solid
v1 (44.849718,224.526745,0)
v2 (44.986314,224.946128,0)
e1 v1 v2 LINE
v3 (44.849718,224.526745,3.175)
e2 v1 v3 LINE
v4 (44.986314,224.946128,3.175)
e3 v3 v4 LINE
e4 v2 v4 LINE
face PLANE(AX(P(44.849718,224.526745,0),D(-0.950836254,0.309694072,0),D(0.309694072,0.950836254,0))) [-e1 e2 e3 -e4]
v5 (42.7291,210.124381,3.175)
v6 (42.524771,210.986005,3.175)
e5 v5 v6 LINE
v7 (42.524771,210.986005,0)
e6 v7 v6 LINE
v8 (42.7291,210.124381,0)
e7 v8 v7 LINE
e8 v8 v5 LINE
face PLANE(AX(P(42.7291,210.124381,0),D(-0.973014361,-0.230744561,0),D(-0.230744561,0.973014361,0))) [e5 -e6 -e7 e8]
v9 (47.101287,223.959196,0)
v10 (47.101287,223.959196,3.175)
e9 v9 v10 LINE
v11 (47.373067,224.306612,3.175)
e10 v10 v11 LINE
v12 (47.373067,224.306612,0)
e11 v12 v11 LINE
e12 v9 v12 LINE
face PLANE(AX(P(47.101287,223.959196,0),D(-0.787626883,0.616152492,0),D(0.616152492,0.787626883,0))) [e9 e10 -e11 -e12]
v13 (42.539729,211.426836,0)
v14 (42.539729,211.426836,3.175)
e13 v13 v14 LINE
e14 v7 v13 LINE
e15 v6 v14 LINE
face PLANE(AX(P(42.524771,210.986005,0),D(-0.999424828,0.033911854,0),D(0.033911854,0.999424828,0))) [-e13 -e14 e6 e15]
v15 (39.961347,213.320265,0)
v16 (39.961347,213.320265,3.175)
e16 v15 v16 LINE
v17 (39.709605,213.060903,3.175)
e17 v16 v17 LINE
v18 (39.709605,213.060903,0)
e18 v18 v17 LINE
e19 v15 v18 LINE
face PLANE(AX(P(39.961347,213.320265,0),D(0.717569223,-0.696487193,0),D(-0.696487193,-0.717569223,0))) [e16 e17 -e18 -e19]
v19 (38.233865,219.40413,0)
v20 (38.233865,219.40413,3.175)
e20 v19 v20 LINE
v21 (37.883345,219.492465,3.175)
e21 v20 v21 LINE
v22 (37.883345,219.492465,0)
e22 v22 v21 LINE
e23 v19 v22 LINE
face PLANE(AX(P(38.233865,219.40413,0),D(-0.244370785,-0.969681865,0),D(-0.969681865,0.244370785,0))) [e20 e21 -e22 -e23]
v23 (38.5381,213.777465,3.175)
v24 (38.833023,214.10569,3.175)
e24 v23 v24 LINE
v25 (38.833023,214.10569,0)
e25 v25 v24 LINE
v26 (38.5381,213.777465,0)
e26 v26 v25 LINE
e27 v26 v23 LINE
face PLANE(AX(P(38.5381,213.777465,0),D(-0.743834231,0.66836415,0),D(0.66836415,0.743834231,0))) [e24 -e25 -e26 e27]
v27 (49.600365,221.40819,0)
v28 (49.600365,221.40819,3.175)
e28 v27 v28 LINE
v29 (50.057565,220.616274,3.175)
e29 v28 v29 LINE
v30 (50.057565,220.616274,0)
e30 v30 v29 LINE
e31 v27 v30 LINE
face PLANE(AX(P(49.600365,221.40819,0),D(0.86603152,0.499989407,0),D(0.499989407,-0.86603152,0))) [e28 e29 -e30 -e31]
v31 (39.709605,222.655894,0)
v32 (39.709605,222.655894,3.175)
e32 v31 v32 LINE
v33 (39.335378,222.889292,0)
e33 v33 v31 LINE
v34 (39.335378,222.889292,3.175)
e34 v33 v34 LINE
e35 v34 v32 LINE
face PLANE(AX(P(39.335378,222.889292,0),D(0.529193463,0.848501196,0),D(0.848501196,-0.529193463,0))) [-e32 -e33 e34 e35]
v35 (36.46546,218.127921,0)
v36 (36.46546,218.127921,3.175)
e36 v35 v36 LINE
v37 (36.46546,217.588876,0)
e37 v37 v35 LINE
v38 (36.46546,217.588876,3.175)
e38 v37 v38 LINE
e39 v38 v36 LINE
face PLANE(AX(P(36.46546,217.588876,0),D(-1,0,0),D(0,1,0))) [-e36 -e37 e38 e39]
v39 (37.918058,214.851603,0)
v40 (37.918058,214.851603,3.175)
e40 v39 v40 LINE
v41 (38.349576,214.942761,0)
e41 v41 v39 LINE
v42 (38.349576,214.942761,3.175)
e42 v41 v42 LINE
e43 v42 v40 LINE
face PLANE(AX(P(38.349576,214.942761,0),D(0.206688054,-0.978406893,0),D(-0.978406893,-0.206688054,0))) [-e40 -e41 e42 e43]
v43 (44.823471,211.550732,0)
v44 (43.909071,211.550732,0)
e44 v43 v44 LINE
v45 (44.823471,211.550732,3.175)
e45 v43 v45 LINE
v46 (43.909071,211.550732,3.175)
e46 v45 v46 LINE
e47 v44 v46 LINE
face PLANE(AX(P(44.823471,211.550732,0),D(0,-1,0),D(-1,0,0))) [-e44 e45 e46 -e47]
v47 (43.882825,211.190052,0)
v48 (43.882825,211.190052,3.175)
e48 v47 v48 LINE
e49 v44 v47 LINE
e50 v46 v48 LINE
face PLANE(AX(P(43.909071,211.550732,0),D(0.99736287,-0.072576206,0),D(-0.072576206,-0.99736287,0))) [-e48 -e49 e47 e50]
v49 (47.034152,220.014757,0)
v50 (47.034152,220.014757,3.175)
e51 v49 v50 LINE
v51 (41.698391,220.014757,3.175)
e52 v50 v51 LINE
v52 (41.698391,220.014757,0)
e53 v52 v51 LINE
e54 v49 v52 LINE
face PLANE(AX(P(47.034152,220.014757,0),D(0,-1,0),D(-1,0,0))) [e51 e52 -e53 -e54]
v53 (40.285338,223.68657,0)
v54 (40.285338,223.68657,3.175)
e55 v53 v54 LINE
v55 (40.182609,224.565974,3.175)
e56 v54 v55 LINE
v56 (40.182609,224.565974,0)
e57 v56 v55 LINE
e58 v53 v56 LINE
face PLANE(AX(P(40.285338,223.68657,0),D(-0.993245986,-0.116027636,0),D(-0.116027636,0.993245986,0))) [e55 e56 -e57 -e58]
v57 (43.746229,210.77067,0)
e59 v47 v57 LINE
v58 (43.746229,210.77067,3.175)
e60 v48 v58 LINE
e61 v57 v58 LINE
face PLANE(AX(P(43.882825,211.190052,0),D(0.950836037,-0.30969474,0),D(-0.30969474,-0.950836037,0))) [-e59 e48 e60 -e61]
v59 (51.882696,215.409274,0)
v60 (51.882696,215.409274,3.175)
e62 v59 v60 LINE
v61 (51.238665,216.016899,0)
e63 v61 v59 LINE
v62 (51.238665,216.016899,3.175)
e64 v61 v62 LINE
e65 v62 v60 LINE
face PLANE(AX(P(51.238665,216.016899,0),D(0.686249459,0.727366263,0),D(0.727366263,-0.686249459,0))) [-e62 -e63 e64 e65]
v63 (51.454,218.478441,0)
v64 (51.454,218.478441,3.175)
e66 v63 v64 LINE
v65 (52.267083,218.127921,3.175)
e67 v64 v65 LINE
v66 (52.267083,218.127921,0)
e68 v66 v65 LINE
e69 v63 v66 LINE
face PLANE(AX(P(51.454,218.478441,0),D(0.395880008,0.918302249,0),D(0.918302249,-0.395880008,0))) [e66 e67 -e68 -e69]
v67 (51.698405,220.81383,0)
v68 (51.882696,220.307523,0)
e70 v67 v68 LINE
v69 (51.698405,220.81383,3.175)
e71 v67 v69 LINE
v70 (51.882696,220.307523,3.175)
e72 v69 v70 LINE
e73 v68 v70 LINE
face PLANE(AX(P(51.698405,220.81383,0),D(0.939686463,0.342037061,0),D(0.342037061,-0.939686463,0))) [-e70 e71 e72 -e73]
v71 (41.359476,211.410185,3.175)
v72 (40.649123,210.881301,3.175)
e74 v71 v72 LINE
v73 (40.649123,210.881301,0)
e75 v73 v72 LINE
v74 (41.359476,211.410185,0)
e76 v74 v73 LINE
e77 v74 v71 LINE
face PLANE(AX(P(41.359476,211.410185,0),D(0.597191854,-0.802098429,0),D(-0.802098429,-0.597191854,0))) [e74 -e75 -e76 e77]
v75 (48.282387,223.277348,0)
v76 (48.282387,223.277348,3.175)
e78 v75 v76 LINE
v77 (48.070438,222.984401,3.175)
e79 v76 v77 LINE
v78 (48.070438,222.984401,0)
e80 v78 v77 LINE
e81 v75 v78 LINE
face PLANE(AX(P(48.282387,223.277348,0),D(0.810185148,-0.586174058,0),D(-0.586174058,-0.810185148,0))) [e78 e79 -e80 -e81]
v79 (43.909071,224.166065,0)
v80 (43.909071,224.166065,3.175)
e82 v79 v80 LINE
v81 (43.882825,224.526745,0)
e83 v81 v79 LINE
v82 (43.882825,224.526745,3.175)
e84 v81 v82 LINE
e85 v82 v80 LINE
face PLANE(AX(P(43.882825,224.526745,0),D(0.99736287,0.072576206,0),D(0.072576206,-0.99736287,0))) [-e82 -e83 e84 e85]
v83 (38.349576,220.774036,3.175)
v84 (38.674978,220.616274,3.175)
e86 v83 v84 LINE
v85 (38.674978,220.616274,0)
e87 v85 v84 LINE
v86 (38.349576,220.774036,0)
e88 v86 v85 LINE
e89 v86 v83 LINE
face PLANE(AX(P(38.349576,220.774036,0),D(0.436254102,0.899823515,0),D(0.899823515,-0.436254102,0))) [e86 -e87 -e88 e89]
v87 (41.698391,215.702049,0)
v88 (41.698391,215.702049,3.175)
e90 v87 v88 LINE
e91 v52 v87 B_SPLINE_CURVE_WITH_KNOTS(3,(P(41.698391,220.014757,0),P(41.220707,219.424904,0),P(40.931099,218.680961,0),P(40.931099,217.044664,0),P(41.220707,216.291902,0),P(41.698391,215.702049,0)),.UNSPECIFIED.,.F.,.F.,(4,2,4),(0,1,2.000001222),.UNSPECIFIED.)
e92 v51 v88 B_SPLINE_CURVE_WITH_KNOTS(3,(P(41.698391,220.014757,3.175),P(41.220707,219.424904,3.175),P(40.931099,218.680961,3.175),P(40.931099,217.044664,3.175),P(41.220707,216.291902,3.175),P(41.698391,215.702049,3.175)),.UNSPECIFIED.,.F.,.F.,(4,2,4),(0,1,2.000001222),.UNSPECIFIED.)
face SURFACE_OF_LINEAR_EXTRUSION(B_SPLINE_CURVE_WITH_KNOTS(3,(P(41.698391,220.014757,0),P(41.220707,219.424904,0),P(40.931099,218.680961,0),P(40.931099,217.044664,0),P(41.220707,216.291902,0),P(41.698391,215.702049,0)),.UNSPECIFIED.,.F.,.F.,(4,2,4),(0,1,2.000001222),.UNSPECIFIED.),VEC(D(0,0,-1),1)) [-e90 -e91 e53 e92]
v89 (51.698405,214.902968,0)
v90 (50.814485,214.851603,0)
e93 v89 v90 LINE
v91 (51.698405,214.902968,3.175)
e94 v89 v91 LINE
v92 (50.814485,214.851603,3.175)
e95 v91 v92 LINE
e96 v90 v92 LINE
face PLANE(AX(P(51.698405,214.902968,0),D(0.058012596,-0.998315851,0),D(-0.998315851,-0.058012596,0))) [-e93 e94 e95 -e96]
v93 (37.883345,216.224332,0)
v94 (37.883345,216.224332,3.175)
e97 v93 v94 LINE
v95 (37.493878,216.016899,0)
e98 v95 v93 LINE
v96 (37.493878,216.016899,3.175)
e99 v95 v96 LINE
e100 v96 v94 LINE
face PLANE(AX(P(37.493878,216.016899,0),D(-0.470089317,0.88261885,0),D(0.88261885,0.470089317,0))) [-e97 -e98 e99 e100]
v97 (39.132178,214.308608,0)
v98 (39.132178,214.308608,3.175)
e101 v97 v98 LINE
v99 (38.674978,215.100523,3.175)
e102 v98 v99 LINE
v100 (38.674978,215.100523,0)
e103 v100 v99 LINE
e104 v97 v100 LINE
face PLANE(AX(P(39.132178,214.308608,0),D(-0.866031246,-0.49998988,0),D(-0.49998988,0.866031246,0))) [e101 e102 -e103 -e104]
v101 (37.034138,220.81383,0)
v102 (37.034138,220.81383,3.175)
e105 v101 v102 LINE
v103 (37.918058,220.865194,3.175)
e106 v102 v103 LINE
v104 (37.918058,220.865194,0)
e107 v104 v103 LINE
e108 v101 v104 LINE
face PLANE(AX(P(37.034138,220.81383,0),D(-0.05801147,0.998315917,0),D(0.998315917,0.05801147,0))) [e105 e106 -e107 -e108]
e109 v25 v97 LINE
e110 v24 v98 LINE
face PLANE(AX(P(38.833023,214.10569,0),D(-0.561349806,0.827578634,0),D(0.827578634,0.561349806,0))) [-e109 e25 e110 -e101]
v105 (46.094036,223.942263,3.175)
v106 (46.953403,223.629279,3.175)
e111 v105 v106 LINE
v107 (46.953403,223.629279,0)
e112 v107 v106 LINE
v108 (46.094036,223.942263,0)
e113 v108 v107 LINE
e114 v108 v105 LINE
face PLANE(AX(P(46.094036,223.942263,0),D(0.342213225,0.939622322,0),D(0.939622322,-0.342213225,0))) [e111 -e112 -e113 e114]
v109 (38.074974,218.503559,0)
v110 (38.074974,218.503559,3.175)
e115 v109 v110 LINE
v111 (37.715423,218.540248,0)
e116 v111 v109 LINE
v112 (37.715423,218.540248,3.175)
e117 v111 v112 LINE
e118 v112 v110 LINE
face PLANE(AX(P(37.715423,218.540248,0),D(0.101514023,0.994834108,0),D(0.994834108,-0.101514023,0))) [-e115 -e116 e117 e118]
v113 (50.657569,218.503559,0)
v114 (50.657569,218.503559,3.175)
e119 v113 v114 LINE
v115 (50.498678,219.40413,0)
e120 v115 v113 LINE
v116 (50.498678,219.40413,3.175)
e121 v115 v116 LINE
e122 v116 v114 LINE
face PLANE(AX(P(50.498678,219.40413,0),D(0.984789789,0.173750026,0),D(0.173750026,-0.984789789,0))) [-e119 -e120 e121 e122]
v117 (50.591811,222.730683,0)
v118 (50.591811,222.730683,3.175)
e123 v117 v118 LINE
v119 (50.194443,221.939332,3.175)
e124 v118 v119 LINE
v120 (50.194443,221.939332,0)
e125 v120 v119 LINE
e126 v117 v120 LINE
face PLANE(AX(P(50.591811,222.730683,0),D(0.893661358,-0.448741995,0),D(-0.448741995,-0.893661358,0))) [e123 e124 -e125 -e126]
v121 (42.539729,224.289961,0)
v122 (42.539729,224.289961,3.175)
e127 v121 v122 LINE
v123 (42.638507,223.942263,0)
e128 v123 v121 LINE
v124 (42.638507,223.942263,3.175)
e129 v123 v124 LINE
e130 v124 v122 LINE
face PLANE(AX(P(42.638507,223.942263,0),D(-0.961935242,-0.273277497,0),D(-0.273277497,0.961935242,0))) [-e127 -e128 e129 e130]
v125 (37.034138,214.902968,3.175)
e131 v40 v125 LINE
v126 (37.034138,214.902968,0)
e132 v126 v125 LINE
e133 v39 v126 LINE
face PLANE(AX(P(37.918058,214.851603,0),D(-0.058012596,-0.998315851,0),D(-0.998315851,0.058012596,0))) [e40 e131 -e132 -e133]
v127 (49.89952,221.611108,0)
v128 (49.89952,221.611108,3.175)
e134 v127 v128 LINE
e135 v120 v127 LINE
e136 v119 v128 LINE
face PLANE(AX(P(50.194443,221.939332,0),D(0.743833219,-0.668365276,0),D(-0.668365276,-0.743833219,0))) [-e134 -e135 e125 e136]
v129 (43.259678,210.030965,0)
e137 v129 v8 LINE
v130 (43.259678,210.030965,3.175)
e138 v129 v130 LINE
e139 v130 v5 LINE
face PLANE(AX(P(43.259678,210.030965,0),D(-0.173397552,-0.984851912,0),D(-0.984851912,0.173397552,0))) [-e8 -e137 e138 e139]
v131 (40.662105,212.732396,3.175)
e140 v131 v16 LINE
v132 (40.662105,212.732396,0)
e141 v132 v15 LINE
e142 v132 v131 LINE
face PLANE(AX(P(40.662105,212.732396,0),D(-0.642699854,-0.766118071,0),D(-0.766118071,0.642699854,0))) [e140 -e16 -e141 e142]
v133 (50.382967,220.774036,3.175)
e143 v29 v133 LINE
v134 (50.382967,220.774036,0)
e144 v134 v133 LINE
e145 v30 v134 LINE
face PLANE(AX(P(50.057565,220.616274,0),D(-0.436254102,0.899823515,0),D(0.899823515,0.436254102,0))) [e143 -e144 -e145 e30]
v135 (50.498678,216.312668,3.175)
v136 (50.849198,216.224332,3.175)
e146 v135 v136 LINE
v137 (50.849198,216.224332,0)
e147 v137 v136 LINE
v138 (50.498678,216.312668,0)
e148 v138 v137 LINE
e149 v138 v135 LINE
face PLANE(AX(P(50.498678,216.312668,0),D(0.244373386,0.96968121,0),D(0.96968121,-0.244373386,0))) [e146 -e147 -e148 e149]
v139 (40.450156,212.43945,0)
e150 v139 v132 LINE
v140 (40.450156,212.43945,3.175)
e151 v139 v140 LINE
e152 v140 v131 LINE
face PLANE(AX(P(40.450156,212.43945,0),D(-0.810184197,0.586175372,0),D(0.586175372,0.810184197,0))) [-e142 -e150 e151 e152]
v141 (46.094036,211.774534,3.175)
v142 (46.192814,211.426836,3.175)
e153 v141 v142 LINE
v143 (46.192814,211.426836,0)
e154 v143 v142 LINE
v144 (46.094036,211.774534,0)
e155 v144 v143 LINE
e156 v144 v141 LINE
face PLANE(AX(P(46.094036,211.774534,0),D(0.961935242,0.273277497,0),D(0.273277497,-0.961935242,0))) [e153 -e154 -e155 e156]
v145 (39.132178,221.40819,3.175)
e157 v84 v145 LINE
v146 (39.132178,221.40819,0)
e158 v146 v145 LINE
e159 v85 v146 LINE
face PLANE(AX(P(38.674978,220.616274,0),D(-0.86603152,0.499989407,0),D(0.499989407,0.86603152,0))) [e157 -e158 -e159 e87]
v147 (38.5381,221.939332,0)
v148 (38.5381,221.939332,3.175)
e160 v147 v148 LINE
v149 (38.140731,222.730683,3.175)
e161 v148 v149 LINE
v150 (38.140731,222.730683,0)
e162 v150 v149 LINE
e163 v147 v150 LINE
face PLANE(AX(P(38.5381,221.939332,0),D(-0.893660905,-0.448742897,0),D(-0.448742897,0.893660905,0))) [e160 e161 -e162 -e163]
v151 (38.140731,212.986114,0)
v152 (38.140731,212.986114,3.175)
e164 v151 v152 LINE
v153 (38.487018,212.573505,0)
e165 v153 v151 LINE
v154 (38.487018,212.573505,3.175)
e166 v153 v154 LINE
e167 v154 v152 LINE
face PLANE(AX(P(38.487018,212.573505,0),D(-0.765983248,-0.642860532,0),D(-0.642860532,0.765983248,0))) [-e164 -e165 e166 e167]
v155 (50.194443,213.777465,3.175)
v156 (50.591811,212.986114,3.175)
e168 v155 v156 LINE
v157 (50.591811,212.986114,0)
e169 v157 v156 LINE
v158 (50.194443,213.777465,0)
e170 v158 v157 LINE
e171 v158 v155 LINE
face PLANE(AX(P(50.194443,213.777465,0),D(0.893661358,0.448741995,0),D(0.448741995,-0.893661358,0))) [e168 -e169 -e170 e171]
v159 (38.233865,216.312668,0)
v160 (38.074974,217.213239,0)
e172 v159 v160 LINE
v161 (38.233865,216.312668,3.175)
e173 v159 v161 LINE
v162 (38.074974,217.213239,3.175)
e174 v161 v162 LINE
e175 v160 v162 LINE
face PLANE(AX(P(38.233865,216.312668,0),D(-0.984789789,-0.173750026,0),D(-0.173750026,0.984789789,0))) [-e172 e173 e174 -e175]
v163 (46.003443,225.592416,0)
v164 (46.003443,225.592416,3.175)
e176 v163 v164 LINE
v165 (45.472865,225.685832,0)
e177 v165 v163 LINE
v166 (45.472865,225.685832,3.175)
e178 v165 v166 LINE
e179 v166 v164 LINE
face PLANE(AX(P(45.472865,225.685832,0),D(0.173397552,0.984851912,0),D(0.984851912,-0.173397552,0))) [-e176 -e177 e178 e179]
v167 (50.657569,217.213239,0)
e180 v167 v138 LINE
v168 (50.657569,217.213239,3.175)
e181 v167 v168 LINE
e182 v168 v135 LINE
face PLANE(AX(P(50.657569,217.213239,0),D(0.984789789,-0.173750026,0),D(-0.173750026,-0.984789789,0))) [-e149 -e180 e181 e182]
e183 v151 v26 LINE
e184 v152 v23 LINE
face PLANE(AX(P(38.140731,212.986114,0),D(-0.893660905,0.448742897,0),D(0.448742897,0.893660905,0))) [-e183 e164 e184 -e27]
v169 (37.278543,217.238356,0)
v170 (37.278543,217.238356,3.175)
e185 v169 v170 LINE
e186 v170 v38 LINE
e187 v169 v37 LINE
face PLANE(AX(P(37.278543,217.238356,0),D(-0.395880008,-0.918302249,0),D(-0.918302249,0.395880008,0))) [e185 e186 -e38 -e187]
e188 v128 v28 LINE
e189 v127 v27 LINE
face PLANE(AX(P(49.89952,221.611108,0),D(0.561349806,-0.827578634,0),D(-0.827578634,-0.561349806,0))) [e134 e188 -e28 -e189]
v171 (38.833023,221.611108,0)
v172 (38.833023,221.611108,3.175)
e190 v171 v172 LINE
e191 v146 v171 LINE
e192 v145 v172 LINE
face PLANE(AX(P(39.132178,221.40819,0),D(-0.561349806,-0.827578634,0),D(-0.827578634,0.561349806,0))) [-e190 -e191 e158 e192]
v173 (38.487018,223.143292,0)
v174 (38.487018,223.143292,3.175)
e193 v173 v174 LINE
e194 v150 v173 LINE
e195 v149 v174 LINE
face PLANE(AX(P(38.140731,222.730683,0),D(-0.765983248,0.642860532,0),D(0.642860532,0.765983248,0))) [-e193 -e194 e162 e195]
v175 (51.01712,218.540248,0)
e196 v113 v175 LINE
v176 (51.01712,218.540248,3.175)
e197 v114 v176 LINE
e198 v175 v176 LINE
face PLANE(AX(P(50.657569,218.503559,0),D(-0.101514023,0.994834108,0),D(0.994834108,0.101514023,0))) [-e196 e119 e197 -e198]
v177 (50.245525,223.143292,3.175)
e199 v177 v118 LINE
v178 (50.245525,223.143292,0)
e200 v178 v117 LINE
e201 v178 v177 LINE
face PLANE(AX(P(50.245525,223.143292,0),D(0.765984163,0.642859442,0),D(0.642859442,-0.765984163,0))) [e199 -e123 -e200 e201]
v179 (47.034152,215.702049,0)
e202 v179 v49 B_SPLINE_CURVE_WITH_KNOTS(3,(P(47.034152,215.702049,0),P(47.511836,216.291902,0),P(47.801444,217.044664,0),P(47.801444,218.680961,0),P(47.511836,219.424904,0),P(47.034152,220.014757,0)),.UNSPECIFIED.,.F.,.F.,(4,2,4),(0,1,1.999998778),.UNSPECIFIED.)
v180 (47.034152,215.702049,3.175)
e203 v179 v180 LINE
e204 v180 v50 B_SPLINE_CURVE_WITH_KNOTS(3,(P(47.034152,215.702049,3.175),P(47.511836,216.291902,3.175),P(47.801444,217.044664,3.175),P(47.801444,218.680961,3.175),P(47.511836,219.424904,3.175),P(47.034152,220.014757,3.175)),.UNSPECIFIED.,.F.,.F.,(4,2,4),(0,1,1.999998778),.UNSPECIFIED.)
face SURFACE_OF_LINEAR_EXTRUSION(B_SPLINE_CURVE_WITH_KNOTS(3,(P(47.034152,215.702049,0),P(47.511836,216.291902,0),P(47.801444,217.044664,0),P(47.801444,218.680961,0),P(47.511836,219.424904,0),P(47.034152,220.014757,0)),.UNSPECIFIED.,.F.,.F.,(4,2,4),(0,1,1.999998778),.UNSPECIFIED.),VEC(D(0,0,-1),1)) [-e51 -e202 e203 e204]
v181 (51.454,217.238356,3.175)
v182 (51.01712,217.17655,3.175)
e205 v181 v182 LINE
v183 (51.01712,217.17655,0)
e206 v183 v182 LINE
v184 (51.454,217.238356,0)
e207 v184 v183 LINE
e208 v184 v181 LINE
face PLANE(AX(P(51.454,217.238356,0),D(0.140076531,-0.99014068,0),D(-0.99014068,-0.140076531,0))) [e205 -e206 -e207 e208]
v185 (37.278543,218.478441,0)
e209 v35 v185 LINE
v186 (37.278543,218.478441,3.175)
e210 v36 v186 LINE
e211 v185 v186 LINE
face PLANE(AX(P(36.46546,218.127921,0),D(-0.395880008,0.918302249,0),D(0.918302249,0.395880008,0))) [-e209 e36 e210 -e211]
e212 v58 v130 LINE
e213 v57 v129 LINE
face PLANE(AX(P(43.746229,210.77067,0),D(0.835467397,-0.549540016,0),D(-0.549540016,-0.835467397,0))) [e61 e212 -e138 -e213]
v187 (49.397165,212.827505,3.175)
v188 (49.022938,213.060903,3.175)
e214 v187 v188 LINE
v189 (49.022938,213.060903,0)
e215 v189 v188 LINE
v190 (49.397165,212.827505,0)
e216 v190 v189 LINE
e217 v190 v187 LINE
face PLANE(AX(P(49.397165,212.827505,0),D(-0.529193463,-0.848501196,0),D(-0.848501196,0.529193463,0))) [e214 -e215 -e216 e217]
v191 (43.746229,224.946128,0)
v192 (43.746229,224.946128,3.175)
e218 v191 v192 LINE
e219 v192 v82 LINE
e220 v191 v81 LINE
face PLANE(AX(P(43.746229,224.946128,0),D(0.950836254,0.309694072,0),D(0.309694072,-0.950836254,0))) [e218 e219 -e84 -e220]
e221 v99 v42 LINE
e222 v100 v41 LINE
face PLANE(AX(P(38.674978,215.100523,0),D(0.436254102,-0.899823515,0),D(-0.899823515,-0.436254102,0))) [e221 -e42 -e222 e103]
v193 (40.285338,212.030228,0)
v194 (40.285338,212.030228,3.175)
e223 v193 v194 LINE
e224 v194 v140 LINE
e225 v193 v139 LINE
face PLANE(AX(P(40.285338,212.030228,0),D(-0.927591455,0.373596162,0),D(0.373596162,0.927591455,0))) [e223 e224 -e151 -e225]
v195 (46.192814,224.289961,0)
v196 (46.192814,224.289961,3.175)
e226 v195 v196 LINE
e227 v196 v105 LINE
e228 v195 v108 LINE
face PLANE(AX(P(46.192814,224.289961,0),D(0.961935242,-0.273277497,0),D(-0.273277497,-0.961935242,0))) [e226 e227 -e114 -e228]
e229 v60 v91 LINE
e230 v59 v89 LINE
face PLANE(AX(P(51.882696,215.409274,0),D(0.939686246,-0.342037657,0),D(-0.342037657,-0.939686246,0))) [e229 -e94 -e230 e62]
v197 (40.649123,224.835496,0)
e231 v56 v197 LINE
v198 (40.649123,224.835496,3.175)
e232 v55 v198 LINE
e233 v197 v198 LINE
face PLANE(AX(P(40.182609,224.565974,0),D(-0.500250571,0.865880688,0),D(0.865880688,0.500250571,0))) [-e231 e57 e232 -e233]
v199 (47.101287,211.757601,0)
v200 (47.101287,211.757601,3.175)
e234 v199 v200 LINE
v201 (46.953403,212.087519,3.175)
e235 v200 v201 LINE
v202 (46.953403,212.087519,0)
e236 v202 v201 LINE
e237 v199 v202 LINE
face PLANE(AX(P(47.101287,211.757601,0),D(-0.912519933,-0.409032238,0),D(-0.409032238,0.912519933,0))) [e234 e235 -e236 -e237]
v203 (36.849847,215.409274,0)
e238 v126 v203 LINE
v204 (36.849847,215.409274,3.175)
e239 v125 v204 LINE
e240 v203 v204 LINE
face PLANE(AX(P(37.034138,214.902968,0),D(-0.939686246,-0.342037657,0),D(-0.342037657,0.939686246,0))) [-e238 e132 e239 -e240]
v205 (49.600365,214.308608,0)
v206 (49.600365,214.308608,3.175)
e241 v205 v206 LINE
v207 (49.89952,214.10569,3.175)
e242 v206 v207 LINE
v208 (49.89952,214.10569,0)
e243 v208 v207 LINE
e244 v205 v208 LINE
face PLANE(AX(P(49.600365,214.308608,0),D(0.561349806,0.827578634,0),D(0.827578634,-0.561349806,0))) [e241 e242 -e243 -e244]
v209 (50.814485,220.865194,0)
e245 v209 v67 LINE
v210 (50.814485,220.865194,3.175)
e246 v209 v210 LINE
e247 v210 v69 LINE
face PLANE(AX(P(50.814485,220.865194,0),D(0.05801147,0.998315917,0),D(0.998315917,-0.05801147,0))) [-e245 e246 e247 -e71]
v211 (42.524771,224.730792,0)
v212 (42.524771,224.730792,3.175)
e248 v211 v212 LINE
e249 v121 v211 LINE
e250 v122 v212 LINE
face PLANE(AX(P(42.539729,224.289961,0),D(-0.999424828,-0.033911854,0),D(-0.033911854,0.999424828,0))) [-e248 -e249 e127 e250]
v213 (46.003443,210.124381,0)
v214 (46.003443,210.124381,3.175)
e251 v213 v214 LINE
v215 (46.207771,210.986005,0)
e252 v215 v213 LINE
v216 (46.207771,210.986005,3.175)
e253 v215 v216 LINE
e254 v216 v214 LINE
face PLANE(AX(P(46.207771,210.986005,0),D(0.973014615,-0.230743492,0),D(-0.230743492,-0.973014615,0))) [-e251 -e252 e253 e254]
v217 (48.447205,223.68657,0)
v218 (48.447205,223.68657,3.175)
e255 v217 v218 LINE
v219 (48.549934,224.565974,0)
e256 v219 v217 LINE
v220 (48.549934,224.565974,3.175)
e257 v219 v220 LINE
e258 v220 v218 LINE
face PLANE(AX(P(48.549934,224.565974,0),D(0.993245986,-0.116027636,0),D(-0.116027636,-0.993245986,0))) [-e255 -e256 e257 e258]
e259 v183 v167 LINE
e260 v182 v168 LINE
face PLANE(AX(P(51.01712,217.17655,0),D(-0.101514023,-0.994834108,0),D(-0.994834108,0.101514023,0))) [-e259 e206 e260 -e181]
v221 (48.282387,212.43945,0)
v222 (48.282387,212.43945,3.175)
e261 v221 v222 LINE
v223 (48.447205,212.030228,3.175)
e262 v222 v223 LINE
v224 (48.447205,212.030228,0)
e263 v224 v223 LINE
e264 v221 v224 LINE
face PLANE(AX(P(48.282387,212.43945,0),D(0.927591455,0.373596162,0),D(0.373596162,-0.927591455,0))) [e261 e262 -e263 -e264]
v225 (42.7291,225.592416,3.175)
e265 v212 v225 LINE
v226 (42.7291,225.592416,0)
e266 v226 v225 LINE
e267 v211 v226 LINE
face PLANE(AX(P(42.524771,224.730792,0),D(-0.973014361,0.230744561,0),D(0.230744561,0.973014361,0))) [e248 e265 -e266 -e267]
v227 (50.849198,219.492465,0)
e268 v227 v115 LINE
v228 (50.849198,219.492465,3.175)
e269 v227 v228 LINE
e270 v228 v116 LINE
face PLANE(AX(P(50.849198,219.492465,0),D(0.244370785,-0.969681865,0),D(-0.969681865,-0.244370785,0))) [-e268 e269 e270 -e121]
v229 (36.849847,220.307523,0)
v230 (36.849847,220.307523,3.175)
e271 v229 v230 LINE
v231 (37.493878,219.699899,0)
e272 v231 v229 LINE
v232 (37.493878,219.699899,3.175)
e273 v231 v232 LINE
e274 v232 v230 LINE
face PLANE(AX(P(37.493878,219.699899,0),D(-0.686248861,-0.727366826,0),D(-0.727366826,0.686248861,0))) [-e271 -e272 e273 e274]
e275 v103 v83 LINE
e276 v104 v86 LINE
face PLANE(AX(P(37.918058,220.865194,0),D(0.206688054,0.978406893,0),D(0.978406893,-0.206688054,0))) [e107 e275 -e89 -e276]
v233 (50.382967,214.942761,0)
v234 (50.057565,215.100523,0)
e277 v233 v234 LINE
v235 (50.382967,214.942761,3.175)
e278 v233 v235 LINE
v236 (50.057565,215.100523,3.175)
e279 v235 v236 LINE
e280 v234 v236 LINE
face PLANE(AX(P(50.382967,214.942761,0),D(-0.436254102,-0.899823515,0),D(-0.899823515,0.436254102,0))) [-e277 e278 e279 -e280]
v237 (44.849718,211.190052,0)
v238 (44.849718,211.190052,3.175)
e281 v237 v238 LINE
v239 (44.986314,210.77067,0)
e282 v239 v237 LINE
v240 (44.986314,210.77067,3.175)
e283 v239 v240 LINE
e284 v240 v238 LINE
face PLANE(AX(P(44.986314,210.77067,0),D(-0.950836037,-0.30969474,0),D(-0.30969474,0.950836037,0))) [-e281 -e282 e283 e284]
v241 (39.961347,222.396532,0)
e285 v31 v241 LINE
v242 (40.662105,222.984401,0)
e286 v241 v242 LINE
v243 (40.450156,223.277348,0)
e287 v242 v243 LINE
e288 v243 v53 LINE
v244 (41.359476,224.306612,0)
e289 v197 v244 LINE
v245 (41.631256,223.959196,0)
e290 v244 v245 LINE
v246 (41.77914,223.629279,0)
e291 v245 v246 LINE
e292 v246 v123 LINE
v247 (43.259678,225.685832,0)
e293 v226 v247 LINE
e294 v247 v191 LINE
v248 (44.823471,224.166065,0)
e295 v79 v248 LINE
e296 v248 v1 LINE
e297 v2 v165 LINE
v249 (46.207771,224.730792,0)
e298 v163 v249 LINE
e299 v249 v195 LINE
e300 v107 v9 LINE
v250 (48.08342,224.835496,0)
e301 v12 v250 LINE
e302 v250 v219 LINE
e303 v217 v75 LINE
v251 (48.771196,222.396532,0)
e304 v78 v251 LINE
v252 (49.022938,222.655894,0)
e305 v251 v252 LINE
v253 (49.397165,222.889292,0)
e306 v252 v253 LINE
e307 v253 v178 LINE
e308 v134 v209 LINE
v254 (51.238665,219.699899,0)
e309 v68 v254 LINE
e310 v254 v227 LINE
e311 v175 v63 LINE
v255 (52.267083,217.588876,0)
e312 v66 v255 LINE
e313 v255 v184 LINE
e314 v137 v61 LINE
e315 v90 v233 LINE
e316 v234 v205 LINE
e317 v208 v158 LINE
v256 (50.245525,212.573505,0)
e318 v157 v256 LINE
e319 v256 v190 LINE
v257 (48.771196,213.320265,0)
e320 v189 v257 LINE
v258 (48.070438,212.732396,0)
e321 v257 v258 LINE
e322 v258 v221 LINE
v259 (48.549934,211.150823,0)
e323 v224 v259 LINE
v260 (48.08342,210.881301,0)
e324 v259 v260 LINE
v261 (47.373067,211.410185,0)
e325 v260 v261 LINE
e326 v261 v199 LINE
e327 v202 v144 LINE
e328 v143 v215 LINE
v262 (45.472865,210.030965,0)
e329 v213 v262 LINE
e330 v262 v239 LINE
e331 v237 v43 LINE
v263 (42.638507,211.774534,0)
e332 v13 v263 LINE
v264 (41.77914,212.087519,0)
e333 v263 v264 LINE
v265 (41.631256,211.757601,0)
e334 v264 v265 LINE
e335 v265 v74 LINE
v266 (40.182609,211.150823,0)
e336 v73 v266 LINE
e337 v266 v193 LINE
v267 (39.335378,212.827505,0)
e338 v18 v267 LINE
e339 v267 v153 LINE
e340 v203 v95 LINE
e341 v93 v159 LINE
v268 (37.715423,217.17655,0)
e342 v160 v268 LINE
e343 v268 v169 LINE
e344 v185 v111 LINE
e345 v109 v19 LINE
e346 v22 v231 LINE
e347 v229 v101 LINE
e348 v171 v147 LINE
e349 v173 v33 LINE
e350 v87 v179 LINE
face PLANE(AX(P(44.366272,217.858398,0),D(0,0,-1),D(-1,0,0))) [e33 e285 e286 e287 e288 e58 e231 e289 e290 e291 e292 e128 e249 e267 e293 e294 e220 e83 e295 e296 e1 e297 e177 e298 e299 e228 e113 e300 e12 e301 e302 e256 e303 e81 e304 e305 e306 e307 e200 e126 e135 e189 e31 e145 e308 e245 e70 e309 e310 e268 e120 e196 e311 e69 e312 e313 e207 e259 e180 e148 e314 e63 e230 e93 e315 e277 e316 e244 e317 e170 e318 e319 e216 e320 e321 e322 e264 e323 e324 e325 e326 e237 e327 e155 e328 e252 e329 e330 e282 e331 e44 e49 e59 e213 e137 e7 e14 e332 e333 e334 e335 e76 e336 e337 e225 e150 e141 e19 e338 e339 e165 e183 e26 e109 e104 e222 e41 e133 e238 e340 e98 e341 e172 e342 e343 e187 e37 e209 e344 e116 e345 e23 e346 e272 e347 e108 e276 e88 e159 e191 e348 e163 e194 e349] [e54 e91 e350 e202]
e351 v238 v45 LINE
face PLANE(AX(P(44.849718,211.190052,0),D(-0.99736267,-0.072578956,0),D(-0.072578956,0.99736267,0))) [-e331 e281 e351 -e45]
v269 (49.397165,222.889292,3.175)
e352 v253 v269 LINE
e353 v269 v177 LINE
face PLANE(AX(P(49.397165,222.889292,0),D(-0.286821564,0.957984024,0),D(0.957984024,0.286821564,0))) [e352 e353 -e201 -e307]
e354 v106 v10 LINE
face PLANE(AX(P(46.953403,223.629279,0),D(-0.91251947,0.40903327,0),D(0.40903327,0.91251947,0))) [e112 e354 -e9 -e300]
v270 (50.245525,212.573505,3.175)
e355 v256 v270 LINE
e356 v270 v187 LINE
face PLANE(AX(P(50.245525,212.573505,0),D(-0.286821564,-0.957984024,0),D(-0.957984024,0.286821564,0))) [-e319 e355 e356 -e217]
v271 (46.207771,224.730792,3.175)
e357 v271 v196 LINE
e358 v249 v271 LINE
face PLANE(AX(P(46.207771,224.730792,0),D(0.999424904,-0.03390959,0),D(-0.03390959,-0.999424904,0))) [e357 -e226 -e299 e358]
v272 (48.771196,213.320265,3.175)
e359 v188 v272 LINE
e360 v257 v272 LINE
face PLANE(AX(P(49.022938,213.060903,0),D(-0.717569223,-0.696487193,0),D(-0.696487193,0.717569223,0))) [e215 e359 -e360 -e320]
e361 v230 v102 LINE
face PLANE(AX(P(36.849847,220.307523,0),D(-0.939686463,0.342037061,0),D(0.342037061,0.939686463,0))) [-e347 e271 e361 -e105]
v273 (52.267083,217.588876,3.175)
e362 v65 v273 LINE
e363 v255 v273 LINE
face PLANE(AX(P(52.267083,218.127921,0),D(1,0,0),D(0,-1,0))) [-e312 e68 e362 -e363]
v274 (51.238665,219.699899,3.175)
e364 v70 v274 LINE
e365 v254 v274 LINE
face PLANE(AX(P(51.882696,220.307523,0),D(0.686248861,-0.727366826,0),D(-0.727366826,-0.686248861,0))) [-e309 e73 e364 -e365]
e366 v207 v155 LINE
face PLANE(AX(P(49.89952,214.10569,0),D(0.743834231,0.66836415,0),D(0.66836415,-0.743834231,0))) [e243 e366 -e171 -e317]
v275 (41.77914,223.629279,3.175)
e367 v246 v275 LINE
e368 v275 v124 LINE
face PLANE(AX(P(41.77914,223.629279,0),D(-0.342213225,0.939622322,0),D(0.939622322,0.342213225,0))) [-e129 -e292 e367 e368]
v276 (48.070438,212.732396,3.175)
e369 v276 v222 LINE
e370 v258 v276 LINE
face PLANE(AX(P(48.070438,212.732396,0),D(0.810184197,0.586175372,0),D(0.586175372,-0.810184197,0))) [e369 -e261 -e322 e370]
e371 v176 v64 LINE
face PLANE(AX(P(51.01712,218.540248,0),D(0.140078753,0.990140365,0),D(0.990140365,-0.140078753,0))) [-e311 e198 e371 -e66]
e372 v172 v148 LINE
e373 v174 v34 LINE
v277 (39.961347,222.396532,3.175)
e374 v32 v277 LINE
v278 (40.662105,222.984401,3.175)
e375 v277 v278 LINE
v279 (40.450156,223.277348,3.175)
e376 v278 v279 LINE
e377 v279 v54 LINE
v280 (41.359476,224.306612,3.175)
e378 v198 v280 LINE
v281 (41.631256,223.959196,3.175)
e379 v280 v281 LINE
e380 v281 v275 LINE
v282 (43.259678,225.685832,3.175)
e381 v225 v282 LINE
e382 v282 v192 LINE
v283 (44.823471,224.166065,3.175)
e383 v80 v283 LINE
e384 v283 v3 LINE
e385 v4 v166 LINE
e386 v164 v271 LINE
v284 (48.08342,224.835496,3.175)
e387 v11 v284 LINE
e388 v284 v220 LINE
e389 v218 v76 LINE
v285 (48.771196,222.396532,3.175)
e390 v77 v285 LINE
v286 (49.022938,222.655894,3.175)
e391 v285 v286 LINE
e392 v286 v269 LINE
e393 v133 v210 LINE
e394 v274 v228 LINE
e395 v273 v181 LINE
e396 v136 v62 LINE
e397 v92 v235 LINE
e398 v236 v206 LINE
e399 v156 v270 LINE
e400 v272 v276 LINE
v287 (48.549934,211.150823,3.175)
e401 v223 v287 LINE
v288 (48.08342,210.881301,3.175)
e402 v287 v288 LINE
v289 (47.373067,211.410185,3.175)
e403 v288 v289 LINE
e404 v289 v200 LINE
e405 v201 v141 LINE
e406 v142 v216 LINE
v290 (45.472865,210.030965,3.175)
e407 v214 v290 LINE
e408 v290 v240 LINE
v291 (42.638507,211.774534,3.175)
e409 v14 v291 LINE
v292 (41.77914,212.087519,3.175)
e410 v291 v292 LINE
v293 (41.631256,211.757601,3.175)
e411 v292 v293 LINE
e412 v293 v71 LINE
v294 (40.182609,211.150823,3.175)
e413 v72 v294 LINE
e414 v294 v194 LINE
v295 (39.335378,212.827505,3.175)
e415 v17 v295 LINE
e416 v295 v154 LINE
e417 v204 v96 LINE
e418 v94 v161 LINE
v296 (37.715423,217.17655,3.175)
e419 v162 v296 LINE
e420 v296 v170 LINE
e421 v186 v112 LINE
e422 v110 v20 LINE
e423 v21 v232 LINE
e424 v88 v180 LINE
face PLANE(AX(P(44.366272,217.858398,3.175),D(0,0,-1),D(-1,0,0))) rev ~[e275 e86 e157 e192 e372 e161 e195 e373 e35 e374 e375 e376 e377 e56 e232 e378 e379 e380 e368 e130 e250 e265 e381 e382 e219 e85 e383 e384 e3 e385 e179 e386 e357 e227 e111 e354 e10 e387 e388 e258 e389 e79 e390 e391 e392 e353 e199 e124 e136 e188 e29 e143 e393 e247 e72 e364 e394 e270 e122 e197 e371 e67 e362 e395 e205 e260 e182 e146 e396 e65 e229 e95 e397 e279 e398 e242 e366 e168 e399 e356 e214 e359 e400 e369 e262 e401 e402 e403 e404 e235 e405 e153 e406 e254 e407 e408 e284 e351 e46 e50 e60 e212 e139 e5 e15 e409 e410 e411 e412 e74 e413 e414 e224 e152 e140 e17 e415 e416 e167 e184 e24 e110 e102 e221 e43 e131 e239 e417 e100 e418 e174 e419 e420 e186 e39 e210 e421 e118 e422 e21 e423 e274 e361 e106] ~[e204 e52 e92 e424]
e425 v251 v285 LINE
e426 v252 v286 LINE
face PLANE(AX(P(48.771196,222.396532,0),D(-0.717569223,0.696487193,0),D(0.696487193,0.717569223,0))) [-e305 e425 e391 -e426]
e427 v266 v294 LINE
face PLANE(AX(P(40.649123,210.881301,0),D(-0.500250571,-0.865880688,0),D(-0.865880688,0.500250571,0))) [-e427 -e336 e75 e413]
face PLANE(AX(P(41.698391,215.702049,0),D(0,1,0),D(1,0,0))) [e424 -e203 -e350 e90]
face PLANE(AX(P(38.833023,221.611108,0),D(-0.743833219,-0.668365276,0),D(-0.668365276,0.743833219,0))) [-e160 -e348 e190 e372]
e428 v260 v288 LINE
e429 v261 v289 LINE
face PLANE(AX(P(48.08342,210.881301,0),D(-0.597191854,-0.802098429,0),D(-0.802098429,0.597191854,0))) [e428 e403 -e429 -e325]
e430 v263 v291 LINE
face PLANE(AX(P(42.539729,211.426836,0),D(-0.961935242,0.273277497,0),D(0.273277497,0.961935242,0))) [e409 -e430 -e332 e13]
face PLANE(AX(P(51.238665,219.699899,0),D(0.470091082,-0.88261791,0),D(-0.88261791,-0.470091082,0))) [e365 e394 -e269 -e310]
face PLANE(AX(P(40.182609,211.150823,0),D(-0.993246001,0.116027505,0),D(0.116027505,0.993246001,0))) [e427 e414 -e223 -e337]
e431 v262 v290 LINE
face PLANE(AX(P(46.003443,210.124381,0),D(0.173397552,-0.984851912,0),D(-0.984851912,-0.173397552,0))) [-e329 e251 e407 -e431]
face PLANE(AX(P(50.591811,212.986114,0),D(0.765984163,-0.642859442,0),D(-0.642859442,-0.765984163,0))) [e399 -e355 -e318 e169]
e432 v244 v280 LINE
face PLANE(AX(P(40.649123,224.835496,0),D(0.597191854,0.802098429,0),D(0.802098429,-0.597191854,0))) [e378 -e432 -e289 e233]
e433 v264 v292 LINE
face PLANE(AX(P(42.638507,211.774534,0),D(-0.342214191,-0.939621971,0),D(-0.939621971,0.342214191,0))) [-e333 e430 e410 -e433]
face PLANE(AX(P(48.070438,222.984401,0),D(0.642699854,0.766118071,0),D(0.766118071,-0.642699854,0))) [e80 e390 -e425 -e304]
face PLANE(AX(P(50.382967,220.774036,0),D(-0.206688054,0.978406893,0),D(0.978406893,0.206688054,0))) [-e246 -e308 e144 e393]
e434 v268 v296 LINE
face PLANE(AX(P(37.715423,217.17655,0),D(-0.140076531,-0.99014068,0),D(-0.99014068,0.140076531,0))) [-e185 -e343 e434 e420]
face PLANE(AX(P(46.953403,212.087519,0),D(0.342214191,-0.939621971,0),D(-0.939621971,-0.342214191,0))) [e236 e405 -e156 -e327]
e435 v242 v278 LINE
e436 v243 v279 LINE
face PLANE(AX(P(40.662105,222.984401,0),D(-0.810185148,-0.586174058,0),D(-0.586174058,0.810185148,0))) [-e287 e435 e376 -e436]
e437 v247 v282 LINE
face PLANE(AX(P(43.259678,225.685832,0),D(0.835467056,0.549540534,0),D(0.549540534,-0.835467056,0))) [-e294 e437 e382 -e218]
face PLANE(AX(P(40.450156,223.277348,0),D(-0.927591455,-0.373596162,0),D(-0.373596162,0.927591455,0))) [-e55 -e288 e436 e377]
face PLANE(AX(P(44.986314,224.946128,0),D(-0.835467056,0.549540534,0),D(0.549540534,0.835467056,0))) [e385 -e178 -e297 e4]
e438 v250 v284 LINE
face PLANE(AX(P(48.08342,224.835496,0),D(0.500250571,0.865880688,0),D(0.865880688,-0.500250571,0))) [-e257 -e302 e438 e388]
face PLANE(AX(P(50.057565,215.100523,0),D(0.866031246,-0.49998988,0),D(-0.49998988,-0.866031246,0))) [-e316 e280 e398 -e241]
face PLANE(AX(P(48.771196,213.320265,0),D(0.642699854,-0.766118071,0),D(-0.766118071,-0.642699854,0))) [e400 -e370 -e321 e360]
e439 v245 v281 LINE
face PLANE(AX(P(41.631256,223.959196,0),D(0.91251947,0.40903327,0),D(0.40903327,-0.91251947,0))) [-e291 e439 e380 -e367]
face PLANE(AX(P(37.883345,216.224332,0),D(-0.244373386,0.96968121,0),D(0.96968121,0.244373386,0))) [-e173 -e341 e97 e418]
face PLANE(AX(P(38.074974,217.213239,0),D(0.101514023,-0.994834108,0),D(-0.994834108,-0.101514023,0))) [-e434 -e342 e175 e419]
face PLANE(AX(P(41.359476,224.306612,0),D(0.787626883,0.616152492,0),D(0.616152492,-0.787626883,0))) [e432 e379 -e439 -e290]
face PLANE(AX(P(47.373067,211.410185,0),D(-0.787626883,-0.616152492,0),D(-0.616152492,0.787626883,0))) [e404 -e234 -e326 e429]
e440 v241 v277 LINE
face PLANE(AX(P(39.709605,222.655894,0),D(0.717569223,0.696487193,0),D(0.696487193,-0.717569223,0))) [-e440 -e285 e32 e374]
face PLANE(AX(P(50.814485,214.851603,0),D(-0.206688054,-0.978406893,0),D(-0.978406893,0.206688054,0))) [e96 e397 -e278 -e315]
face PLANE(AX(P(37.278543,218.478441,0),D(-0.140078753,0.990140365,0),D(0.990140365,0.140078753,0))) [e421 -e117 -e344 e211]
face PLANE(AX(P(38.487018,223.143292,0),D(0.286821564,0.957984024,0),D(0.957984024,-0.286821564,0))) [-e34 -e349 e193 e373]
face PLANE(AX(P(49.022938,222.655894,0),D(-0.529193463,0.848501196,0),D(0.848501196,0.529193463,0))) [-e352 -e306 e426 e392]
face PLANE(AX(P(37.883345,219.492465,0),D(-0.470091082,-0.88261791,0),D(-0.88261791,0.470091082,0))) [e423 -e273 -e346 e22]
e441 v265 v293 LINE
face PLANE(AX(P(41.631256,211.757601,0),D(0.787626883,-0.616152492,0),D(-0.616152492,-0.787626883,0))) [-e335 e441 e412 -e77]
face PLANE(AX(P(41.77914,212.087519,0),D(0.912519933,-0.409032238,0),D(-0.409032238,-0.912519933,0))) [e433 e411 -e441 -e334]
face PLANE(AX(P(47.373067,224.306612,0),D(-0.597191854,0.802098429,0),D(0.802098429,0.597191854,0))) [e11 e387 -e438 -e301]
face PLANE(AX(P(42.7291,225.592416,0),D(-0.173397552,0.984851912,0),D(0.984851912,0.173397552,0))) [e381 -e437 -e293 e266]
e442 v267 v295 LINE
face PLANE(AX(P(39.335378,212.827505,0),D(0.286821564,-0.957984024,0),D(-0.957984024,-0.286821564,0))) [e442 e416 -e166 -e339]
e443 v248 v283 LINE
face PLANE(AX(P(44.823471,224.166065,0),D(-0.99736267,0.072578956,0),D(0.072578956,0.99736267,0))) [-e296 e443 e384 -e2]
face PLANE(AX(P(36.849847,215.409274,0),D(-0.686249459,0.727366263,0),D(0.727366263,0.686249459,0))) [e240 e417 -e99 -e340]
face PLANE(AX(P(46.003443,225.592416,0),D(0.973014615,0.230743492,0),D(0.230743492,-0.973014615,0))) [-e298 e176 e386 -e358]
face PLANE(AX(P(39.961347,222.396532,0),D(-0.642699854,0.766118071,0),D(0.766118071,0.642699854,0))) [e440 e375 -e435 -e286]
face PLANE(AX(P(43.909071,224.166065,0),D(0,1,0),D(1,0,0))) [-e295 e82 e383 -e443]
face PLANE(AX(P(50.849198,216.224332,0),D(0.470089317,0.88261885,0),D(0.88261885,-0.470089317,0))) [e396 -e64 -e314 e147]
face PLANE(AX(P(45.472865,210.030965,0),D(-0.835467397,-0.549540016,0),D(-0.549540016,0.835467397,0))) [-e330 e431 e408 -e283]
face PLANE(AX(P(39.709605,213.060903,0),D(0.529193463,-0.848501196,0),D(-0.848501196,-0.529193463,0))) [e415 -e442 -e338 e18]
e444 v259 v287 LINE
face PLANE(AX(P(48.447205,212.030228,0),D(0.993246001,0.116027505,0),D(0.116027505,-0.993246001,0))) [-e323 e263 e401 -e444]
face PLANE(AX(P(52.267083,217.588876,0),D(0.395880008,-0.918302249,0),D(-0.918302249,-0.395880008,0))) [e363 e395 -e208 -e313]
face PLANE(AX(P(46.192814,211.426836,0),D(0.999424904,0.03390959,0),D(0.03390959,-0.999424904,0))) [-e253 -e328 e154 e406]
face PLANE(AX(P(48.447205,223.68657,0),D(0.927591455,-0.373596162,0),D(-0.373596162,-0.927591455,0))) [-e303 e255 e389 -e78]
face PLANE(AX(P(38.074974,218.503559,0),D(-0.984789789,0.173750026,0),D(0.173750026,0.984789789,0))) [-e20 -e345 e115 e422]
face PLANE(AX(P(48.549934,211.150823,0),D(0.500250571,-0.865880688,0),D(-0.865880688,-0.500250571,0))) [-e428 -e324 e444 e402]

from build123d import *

# Parameters (mm, degrees)
BOSS_EXTRUDE2_DEPTH = 3.175


with BuildPart() as part:
    # sun → Boss-Extrude2 (new body)
    with BuildSketch(Plane(origin=(6.251367358, 48.255911881, 0), x_dir=(1, 0, 0), z_dir=(0, 0, 1))):
        Polygon((44.40620191, 170.247646781), (44.76575291, 170.284335781), (45.20263291, 170.222528781), (46.01571591, 169.872008781), (46.01571591, 169.332963781), (45.20263291, 168.982443781), (44.76575291, 168.920637781), (44.40620191, 168.957326781), (44.24731091, 168.056755781), (44.59783091, 167.968419781), (44.98729791, 167.760986781), (45.63132891, 167.153361781), (45.44703791, 166.647055781), (44.56311791, 166.595690781), (44.13159991, 166.686848781), (43.80619791, 166.844610781), (43.34899791, 166.052695781), (43.64815291, 165.849777781), (43.94307591, 165.521552781), (44.34044391, 164.730201781), (43.99415791, 164.317592781), (43.14579791, 164.571592781), (42.77157091, 164.804990781), (42.51982891, 165.064352781), (41.81907091, 164.476483781), (42.03101991, 164.183537781), (42.19583791, 163.774315781), (42.29856691, 162.894910781), (41.83205291, 162.625388781), (41.12169991, 163.154272781), (40.84991991, 163.501688781), (40.70203591, 163.831606781), (39.84266891, 163.518621781), (39.94144691, 163.170923781), (39.95640391, 162.730092781), (39.75207591, 161.868468781), (39.22149791, 161.775052781), (38.73494691, 162.514757781), (38.59835091, 162.934139781), (38.57210391, 163.294819781), (37.65770391, 163.294819781), (37.63145791, 162.934139781), (37.49486191, 162.514757781), (37.00831091, 161.775052781), (36.47773291, 161.868468781), (36.27340391, 162.730092781), (36.28836191, 163.170923781), (36.38713991, 163.518621781), (35.52777291, 163.831606781), (35.37988891, 163.501688781), (35.10810891, 163.154272781), (34.39775591, 162.625388781), (33.93124191, 162.894910781), (34.03397091, 163.774315781), (34.19878891, 164.183537781), (34.41073791, 164.476483781), (33.70997991, 165.064352781), (33.45823791, 164.804990781), (33.08401091, 164.571592781), (32.23565091, 164.317592781), (31.88936391, 164.730201781), (32.28673291, 165.521552781), (32.58165591, 165.849777781), (32.88081091, 166.052695781), (32.42361091, 166.844610781), (32.09820891, 166.686848781), (31.66669091, 166.595690781), (30.78277091, 166.647055781), (30.59847991, 167.153361781), (31.24251091, 167.760986781), (31.63197791, 167.968419781), (31.98249791, 168.056755781), (31.82360691, 168.957326781), (31.46405591, 168.920637781), (31.02717591, 168.982443781), (30.21409291, 169.332963781), (30.21409291, 169.872008781), (31.02717591, 170.222528781), (31.46405591, 170.284335781), (31.82360691, 170.247646781), (31.98249791, 171.148217781), (31.63197791, 171.236552781), (31.24251091, 171.443986781), (30.59847991, 172.051610781), (30.78277091, 172.557917781), (31.66669091, 172.609281781), (32.09820891, 172.518123781), (32.42361091, 172.360361781), (32.88081091, 173.152277781), (32.58165591, 173.355195781), (32.28673291, 173.683419781), (31.88936391, 174.474770781), (32.23565091, 174.887379781), (33.08401091, 174.633379781), (33.45823791, 174.399981781), (33.70997991, 174.140619781), (34.41073791, 174.728488781), (34.19878891, 175.021435781), (34.03397091, 175.430657781), (33.93124191, 176.310061781), (34.39775591, 176.579583781), (35.10810891, 176.050699781), (35.37988891, 175.703283781), (35.52777291, 175.373366781), (36.38713991, 175.686350781), (36.28836191, 176.034048781), (36.27340391, 176.474879781), (36.47773291, 177.336503781), (37.00831091, 177.429919781), (37.49486191, 176.690215781), (37.63145791, 176.270832781), (37.65770391, 175.910152781), (38.57210391, 175.910152781), (38.59835091, 176.270832781), (38.73494691, 176.690215781), (39.22149791, 177.429919781), (39.75207591, 177.336503781), (39.95640391, 176.474879781), (39.94144691, 176.034048781), (39.84266891, 175.686350781), (40.70203591, 175.373366781), (40.84991991, 175.703283781), (41.12169991, 176.050699781), (41.83205291, 176.579583781), (42.29856691, 176.310061781), (42.19583791, 175.430657781), (42.03101991, 175.021435781), (41.81907091, 174.728488781), (42.51982891, 174.140619781), (42.77157091, 174.399981781), (43.14579791, 174.633379781), (43.99415791, 174.887379781), (44.34044391, 174.474770781), (43.94307591, 173.683419781), (43.64815291, 173.355195781), (43.34899791, 173.152277781), (43.80619791, 172.360361781), (44.13159991, 172.518123781), (44.56311791, 172.609281781), (45.44703791, 172.557917781), (45.63132891, 172.051610781), (44.98729791, 171.443986781), (44.59783091, 171.236552781), (44.24731091, 171.148217781), align=None)
        with BuildLine():
            Line((35.44702391, 167.446136781), (40.78278491, 167.446136781))
            add(Edge.make_bspline(
                [(40.78278491, 167.446136781), (41.26046891, 168.035989781), (41.55007691, 168.788751781), (41.55007691, 169.606900781)],
                knots=[0, 0, 0, 0, 1, 1, 1, 1], degree=3))
            add(Edge.make_bspline(
                [(41.55007691, 169.606900781), (41.55007691, 170.425048781), (41.26046891, 171.168991781), (40.78278491, 171.758844781)],
                knots=[0, 0, 0, 0, 1, 1, 1, 1], degree=3))
            Line((40.78278491, 171.758844781), (35.44702391, 171.758844781))
            add(Edge.make_bspline(
                [(35.44702391, 171.758844781), (34.96933991, 171.168991781), (34.67973191, 170.425048781), (34.67973191, 169.606900781)],
                knots=[0, 0, 0, 0, 1, 1, 1, 1], degree=3))
            add(Edge.make_bspline(
                [(34.67973191, 169.606900781), (34.67973191, 168.788751781), (34.96933991, 168.035989781), (35.44702391, 167.446136781)],
                knots=[0, 0, 0, 0, 1, 1, 1, 1], degree=3))
        make_face(mode=Mode.SUBTRACT)
    extrude(amount=BOSS_EXTRUDE2_DEPTH)


solid = part.part
